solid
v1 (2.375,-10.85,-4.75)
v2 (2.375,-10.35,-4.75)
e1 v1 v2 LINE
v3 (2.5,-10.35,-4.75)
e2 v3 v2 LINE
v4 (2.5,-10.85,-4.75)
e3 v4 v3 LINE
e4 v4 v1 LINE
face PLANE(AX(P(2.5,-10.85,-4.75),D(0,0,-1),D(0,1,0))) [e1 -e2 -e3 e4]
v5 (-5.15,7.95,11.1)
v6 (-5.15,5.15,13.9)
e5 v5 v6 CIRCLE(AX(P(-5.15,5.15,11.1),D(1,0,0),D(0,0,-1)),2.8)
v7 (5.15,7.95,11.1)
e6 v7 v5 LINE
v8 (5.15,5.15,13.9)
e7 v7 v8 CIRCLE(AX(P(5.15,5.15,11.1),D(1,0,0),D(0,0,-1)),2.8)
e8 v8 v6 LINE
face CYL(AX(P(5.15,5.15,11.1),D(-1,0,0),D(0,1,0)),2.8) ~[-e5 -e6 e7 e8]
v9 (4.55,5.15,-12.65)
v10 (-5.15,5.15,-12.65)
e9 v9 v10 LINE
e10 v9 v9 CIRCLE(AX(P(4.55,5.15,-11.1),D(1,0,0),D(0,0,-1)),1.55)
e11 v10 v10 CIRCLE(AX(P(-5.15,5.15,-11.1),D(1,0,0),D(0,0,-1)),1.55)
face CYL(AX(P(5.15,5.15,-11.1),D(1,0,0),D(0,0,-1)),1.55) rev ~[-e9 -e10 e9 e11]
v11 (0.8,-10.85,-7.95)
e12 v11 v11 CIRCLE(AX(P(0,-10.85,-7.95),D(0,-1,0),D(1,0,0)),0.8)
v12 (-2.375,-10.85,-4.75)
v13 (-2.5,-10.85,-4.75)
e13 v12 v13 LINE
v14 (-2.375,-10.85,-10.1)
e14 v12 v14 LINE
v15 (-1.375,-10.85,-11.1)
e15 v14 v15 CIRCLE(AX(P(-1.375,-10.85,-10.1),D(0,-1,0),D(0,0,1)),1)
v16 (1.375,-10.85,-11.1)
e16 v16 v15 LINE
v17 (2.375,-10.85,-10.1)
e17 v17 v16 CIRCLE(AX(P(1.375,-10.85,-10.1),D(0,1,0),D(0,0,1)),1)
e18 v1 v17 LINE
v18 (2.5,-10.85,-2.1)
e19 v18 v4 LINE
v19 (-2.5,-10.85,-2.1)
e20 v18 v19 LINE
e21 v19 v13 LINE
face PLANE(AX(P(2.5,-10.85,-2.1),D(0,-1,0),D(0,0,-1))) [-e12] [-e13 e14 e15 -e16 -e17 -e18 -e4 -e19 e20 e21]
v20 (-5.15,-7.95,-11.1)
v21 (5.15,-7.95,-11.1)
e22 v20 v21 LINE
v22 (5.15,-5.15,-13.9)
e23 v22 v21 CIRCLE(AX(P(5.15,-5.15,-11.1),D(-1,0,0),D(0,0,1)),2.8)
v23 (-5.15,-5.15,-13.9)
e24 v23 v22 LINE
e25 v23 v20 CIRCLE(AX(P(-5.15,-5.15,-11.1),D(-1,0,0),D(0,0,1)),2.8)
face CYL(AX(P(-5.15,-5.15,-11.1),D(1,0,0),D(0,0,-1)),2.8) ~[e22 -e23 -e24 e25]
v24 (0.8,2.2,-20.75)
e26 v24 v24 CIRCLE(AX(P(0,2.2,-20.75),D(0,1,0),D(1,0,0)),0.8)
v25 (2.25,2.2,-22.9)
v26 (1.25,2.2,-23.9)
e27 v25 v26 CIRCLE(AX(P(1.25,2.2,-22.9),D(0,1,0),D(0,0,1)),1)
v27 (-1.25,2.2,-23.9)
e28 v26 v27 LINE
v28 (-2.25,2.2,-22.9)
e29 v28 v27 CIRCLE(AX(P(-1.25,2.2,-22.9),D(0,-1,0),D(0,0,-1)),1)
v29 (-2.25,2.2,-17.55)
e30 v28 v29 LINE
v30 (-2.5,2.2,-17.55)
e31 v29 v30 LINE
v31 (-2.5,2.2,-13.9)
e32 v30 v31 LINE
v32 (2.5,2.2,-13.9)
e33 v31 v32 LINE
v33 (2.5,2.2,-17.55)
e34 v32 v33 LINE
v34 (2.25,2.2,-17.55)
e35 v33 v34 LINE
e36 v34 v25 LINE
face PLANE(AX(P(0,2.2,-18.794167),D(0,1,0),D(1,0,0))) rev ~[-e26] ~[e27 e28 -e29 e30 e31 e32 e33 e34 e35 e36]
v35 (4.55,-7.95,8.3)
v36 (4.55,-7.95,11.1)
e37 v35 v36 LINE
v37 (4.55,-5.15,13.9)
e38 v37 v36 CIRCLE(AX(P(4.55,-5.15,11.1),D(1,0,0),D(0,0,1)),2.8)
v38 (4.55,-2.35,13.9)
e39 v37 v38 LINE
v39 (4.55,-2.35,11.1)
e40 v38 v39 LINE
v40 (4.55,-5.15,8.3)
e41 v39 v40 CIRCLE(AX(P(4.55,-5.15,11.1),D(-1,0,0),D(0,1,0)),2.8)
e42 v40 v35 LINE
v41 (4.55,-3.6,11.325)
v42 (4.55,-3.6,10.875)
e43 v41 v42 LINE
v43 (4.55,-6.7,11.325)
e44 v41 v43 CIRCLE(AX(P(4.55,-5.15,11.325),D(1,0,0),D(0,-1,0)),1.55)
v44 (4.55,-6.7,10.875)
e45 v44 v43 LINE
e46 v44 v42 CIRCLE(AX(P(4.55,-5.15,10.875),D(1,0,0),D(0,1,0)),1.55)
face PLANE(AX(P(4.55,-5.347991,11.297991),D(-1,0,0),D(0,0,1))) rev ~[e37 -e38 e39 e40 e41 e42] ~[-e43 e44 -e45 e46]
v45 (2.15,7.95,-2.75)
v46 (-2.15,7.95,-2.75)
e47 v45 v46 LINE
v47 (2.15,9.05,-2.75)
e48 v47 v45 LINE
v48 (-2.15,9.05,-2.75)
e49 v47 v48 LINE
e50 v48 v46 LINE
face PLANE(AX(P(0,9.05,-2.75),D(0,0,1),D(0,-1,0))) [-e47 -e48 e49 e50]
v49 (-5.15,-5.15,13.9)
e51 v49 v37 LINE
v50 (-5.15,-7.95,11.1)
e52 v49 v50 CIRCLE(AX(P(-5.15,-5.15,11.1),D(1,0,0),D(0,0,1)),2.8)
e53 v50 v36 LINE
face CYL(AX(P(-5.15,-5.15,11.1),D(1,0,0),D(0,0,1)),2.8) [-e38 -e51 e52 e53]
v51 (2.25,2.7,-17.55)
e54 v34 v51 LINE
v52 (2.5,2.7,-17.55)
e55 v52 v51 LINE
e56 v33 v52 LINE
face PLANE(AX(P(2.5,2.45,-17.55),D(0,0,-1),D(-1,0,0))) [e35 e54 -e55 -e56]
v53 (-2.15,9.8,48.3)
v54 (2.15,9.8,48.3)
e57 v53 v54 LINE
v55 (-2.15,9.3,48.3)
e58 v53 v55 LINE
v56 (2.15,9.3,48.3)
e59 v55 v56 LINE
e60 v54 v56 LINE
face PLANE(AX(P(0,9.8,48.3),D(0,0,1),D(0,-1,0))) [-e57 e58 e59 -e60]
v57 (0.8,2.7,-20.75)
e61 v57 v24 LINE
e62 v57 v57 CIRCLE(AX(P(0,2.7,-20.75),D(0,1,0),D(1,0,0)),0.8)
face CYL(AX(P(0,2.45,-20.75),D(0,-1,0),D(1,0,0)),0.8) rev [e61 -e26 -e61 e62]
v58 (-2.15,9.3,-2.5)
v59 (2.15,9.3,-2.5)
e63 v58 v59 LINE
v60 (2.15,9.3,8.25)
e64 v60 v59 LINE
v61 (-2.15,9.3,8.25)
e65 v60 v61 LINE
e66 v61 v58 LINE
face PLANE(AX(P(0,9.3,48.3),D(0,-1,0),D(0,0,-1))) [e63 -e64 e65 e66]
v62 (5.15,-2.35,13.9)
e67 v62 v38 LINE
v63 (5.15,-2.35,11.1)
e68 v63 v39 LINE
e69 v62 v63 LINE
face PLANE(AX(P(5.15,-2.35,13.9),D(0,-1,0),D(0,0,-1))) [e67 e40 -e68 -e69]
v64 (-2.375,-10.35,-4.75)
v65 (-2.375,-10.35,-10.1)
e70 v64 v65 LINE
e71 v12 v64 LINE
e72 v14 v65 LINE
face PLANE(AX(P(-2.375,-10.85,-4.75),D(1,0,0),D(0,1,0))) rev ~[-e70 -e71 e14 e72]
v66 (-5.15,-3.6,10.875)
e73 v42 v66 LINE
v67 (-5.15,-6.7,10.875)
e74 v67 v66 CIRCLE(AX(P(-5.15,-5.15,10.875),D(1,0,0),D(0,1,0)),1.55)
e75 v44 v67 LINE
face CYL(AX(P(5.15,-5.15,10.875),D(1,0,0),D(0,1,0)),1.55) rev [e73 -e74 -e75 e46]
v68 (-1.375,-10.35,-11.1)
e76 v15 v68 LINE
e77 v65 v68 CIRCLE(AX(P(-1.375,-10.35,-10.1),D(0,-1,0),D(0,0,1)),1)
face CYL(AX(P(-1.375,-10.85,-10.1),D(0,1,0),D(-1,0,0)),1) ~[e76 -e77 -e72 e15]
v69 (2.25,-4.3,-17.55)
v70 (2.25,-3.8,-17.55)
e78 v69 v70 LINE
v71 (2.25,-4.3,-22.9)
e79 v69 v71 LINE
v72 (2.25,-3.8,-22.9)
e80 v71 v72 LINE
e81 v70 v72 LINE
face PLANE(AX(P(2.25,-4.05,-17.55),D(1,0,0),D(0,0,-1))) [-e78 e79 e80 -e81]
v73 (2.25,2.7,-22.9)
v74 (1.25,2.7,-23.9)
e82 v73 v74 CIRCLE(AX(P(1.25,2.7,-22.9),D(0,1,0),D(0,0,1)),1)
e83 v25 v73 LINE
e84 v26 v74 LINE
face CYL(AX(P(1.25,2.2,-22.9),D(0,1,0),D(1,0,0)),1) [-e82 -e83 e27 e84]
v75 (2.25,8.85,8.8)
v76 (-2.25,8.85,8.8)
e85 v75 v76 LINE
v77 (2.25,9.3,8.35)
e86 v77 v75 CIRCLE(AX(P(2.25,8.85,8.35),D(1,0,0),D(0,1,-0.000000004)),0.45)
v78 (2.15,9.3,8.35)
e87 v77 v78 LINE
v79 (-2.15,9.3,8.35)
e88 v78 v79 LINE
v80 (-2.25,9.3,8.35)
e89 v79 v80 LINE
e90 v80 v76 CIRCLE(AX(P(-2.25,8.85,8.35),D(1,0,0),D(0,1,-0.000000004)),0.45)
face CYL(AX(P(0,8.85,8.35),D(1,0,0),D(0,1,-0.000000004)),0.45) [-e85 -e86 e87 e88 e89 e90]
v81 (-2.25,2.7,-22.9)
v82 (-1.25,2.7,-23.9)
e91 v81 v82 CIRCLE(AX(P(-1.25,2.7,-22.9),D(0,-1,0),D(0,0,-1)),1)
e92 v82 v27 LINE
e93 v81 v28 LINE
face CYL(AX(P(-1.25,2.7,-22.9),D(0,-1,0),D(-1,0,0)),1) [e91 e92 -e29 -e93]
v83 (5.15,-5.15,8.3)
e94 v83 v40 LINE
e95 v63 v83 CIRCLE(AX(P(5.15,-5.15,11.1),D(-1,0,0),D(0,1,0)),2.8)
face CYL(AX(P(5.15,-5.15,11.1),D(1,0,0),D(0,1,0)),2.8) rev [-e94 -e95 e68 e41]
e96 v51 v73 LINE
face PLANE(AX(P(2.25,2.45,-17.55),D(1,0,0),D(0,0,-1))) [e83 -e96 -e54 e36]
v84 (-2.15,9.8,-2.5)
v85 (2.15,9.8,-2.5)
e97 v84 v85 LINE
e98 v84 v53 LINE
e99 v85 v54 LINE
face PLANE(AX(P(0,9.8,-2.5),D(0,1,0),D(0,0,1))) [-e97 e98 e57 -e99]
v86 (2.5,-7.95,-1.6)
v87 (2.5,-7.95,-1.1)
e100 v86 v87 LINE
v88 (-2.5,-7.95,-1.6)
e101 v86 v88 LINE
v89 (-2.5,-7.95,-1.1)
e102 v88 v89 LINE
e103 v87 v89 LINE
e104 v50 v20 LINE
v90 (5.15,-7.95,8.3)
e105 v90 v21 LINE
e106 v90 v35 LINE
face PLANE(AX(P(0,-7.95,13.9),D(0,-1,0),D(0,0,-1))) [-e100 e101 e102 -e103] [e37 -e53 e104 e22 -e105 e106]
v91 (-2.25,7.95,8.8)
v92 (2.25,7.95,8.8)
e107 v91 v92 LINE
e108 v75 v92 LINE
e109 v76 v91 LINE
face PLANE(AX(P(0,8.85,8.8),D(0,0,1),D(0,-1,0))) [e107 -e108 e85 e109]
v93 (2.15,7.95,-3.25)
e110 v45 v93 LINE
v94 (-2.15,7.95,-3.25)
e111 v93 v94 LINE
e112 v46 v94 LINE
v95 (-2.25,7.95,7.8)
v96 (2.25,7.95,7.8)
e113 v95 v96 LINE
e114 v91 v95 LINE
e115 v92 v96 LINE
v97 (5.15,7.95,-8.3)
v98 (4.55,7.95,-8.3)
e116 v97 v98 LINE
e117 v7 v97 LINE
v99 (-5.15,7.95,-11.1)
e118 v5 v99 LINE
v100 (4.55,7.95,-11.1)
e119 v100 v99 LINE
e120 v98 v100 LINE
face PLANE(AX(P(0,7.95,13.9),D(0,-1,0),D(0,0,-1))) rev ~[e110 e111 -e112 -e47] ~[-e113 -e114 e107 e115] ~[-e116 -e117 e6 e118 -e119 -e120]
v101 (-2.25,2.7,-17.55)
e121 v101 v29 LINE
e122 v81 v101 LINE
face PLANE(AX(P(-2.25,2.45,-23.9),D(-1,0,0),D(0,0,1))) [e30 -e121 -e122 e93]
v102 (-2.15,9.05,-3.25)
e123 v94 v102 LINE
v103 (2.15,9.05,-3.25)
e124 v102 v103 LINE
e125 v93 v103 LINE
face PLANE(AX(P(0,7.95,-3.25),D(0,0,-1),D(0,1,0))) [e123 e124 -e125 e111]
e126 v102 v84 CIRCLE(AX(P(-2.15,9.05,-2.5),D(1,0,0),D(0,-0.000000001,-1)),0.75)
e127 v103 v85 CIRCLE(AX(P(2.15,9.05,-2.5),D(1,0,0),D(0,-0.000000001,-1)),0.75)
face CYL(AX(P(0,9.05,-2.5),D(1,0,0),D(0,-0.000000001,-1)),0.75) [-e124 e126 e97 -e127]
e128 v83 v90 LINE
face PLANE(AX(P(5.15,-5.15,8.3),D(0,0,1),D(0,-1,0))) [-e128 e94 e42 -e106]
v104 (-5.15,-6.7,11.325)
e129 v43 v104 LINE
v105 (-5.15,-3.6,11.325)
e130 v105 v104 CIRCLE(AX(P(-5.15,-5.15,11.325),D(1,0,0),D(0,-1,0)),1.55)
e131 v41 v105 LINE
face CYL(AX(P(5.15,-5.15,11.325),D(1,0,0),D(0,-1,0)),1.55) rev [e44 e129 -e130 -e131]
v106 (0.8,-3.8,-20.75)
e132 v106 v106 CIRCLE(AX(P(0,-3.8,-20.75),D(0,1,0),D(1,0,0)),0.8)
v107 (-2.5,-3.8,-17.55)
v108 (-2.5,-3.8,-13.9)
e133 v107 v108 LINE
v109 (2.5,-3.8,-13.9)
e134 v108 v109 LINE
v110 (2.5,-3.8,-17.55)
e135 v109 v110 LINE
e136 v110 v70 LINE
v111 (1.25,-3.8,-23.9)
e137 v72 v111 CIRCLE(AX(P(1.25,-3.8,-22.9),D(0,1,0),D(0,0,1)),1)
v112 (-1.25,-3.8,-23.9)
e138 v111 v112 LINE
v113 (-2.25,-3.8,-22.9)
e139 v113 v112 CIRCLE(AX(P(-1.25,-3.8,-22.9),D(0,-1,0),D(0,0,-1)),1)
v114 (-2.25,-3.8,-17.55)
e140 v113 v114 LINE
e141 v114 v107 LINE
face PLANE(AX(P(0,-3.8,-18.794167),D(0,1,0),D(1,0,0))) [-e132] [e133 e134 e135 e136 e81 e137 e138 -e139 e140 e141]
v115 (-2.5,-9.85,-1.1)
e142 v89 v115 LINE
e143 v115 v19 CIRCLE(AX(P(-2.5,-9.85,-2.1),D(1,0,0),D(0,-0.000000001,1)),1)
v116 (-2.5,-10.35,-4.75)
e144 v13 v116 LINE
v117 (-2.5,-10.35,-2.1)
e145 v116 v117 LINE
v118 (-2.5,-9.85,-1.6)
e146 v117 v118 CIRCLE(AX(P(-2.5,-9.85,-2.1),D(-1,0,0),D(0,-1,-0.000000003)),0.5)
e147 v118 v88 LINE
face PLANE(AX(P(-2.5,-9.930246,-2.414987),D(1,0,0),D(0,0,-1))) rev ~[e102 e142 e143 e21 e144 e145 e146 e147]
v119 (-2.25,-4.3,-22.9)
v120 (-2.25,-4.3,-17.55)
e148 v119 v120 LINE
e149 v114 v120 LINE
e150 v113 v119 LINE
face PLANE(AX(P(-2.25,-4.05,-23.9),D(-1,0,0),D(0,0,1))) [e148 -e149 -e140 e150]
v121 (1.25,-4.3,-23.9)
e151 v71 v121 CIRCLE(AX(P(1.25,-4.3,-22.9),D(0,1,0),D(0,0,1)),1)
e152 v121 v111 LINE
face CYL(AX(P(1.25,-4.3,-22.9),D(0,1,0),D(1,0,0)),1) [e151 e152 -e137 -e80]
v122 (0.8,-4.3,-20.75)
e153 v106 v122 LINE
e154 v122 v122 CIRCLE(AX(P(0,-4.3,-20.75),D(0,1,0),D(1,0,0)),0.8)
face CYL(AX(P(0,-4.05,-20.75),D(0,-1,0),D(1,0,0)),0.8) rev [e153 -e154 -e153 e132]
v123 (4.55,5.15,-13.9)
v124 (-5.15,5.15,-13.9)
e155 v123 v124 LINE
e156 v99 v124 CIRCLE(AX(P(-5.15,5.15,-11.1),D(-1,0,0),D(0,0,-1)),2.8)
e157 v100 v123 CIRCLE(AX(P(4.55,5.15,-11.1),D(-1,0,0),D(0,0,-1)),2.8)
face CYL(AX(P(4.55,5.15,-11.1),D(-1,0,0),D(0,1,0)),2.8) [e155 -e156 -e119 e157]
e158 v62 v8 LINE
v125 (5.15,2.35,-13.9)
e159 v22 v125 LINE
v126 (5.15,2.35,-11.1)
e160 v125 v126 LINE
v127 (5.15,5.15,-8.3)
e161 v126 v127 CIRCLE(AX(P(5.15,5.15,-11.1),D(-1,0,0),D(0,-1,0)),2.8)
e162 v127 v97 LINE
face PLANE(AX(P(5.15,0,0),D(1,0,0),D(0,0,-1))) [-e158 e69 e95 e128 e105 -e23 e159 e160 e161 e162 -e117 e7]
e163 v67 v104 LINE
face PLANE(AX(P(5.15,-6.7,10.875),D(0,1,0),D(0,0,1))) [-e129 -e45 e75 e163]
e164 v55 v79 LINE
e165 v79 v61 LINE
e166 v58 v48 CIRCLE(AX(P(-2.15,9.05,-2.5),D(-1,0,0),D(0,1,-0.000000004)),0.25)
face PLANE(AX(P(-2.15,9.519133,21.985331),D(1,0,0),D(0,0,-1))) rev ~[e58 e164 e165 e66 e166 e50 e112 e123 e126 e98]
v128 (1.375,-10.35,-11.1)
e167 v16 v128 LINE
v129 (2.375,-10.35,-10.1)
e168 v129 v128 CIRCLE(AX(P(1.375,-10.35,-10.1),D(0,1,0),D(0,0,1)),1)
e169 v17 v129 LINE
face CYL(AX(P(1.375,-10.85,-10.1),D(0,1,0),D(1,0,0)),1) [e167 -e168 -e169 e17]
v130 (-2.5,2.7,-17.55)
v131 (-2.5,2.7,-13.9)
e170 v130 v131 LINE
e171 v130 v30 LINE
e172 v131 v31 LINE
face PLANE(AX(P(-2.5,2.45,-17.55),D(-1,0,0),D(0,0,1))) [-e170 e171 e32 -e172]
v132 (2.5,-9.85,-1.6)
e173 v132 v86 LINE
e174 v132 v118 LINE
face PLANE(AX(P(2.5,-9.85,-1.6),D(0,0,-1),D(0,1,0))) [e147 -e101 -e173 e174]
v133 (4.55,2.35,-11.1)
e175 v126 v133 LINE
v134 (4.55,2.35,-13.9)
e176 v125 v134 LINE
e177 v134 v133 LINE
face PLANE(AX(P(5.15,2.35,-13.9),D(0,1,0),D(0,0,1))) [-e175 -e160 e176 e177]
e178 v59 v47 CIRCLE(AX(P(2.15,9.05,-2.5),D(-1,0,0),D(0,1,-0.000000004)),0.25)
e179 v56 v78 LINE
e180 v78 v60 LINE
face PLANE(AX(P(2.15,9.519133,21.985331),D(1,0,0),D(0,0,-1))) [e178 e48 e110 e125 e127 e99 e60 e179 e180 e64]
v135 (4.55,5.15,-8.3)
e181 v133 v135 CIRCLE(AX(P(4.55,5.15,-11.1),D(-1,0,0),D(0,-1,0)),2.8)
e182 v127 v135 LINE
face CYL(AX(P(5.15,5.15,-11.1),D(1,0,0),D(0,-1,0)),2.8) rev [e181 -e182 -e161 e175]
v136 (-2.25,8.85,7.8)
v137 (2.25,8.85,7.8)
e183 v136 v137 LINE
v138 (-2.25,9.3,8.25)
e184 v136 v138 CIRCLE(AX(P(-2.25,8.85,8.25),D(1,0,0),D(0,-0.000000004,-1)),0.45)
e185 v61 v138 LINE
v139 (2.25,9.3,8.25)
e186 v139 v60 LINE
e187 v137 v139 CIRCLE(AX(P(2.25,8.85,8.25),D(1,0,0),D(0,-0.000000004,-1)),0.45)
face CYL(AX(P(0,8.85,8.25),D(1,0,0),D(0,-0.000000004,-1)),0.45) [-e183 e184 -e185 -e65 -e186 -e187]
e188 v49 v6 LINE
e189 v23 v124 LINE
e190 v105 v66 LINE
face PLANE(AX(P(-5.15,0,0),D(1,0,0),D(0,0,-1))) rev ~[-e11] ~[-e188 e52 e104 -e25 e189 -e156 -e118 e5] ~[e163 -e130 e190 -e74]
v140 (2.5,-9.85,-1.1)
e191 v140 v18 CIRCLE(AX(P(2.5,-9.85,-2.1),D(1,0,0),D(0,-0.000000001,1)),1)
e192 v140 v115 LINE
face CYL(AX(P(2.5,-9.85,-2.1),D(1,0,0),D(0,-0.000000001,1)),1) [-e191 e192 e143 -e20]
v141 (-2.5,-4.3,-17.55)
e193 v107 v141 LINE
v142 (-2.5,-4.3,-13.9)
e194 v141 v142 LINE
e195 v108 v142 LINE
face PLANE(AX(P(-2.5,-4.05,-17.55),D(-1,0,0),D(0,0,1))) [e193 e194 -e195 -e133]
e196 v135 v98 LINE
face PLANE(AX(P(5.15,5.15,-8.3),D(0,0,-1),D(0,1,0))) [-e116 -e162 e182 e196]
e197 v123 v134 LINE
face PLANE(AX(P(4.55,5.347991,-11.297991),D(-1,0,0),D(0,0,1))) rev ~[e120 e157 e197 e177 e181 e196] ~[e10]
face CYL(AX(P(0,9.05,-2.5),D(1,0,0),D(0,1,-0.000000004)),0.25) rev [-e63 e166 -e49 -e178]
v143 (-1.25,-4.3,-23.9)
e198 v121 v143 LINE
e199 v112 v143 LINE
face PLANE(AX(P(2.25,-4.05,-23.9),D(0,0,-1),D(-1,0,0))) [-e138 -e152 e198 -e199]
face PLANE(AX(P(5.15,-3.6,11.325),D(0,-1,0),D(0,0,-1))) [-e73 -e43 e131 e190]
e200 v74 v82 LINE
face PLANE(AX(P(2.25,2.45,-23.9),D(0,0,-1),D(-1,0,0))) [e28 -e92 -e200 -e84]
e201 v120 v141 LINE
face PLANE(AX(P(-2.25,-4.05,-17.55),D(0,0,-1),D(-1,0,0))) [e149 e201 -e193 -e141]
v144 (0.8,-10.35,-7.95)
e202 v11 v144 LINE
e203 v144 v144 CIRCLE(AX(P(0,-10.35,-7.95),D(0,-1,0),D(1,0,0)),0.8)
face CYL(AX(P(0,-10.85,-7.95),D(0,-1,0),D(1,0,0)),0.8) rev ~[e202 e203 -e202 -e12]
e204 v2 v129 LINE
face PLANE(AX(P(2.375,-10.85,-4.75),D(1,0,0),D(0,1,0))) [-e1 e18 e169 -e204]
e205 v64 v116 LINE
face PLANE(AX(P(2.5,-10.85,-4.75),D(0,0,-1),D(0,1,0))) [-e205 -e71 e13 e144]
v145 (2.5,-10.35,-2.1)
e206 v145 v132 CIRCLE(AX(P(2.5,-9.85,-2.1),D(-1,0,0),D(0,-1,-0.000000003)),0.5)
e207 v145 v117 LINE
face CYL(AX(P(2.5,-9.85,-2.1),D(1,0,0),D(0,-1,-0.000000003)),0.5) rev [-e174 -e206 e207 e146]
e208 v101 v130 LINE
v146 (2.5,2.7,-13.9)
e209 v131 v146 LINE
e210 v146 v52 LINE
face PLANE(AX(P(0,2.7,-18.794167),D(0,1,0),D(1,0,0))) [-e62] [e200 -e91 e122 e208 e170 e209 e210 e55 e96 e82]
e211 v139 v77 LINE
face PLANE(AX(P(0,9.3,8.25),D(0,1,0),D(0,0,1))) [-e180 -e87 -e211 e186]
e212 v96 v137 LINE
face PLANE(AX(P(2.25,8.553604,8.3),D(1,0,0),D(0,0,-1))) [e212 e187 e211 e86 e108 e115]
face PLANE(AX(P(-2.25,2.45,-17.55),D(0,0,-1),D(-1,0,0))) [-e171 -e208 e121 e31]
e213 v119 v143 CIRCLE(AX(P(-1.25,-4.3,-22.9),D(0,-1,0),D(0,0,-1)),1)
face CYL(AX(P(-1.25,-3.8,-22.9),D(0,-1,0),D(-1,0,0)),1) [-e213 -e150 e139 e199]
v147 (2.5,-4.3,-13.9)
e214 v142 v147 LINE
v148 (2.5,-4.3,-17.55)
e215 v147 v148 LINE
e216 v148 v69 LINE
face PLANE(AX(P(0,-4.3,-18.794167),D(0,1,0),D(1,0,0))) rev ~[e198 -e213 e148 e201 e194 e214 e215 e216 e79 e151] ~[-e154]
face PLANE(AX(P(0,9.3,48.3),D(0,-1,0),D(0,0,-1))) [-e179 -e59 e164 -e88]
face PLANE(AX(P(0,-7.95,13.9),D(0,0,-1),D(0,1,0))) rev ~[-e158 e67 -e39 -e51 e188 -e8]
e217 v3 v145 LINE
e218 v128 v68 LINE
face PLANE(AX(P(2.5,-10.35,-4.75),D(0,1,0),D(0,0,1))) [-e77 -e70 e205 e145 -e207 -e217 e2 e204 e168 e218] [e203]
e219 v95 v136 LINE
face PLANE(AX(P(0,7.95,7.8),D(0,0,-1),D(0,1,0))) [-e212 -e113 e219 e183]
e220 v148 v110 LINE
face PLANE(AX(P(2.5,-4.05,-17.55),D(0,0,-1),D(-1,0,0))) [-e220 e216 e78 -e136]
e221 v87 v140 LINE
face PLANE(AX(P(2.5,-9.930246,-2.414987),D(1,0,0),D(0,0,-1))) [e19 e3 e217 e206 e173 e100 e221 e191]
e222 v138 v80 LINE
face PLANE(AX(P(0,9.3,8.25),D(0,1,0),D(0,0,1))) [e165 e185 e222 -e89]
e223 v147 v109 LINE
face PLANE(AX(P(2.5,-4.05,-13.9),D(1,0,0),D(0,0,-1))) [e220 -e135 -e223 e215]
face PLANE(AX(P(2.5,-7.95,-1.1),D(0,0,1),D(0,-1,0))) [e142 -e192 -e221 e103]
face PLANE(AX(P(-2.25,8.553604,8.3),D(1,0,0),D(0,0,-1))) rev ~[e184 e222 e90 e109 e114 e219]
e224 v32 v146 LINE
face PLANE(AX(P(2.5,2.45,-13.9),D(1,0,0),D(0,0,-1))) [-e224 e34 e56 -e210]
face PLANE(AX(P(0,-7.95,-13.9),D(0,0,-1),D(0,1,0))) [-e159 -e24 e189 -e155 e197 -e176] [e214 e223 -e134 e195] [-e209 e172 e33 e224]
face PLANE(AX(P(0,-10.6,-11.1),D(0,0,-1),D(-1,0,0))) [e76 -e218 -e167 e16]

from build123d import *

# Parameters (mm, degrees)
SKETCH1_W           = 27.8
SKETCH1_H           = 15.9
BOSS_EXTRUDE1_DEPTH = 5.15
SKETCH4_R           = 1.55
CUT_EXTRUDE1_DEPTH  = 11.3
CUT_EXTRUDE2_DEPTH  = 0.6
SKETCH8_R           = 0.8
BOSS_EXTRUDE2_DEPTH = 0.25
LPATTERN1_COUNT     = 2
LPATTERN1_PITCH     = 6.5
BOSS_EXTRUDE3_DEPTH = 5
SKETCH10_W          = 4.75
SKETCH10_H          = 0.5
BOSS_EXTRUDE4_DEPTH = 6.35
CUT_EXTRUDE3_REACH  = 20.8
SKETCH11_R          = 0.8
BOSS_EXTRUDE5_DEPTH = 2.15
BOSS_EXTRUDE7_DEPTH = 2.25
FILLET1_R           = 2.8
FILLET2_R           = 1


with BuildPart() as part:
    # Sketch1 → Boss-Extrude1 (new body, symmetric)
    with BuildSketch(Plane(origin=(0, 0, 0), x_dir=(0, 0, -1), z_dir=(1, 0, 0))):
        Rectangle(SKETCH1_W, SKETCH1_H)
    extrude(amount=BOSS_EXTRUDE1_DEPTH, both=True)

    # Sketch4 → Cut-Extrude1 (cut, through all)
    with BuildSketch(Plane(origin=(5.15, 0, 0), x_dir=(0, 0, -1), z_dir=(1, 0, 0))):
        with Locations((11.1, 5.15)):
            Circle(SKETCH4_R)
        with BuildLine():
            Line((-11.325, -3.6), (-10.875, -3.6))
            ThreePointArc((-10.875, -3.6), (-9.325, -5.15), (-10.875, -6.7))
            Line((-10.875, -6.7), (-11.325, -6.7))
            ThreePointArc((-11.325, -6.7), (-12.875, -5.15), (-11.325, -3.6))
        make_face()
    extrude(amount=-CUT_EXTRUDE1_DEPTH, mode=Mode.SUBTRACT)

    # Sketch5 → Cut-Extrude2 (cut)
    with BuildSketch(Plane(origin=(5.15, 0, 0), x_dir=(0, 0, -1), z_dir=(1, 0, 0))):
        with BuildLine():
            Line((13.9, 2.35), (11.1, 2.35))
            ThreePointArc((11.1, 2.35), (9.120101013, 3.170101013), (8.3, 5.15))
            Line((8.3, 5.15), (8.3, 7.95))
            Line((8.3, 7.95), (13.9, 7.95))
            Line((13.9, 7.95), (13.9, 2.35))
        make_face()
        with BuildLine():
            Line((-13.9, -2.35), (-11.1, -2.35))
            ThreePointArc((-11.1, -2.35), (-9.120101013, -3.170101013), (-8.3, -5.15))
            Line((-8.3, -5.15), (-8.3, -7.95))
            Line((-8.3, -7.95), (-13.9, -7.95))
            Line((-13.9, -7.95), (-13.9, -2.35))
        make_face()
    extrude(amount=-CUT_EXTRUDE2_DEPTH, mode=Mode.SUBTRACT)

    # Sketch8 → Boss-Extrude2 (add, symmetric)
    with BuildSketch(Plane(origin=(0, 2.45, 0), x_dir=(1, 0, 0), z_dir=(0, 1, 0))):
        Polygon((-2.5, 13.9), (2.5, 13.9), (2.5, 17.55), (2.25, 17.55), (2.25, 23.9), (-2.25, 23.9), (-2.25, 17.55), (-2.5, 17.55), align=None)
        with Locations((0, 20.75)):
            Circle(SKETCH8_R, mode=Mode.SUBTRACT)
    boss_extrude2 = extrude(amount=BOSS_EXTRUDE2_DEPTH, both=True)

    # LPattern1: Boss-Extrude2 ×2
    with Locations(*[(0, -i * LPATTERN1_PITCH, 0) for i in range(1, LPATTERN1_COUNT)]):
        add(boss_extrude2)

    # Sketch9 → Boss-Extrude3 (add)
    with BuildSketch(Plane(origin=(2.5, 0, 0), x_dir=(0, 0, -1), z_dir=(1, 0, 0))):
        with BuildLine():
            Line((1.1, -7.95), (1.1, -9.85))
            ThreePointArc((1.1, -9.85), (1.392893219, -10.557106781), (2.1, -10.85))
            Line((2.1, -10.85), (4.75, -10.85))
            Line((4.75, -10.85), (4.75, -10.35))
            Line((4.75, -10.35), (2.1, -10.35))
            ThreePointArc((2.1, -10.35), (1.746446609, -10.203553391), (1.6, -9.85))
            Line((1.6, -9.85), (1.6, -7.95))
            Line((1.6, -7.95), (1.1, -7.95))
        make_face()
    extrude(amount=-BOSS_EXTRUDE3_DEPTH)

    # Sketch10 → Boss-Extrude4 (add)
    with BuildSketch(Plane(origin=(0, 0, -4.75), x_dir=(-1, 0, 0), z_dir=(0, 0, -1))):
        with Locations((0, -10.6)):
            Rectangle(SKETCH10_W, SKETCH10_H)
    extrude(amount=BOSS_EXTRUDE4_DEPTH)

    # Sketch11 → Cut-Extrude3 (cut, up to next)
    with BuildSketch(Plane.XZ.offset(10.85), mode=Mode.PRIVATE) as cut_extrude3_sk1:
        with Locations((0, -7.95)):
            Circle(SKETCH11_R)
    cut_extrude3_tool1 = extrude(cut_extrude3_sk1.sketch, amount=-CUT_EXTRUDE3_REACH, mode=Mode.PRIVATE) & part.part
    add(cut_extrude3_tool1.solids().sort_by_distance((0, -10.85, -7.95))[0], mode=Mode.SUBTRACT)

    # Sketch12 → Boss-Extrude5 (add, symmetric)
    with BuildSketch(Plane(origin=(0, 0, 0), x_dir=(0, 0, -1), z_dir=(1, 0, 0))):
        with BuildLine():
            Line((3.25, 7.95), (3.25, 9.05))
            ThreePointArc((3.25, 9.05), (3.030330086, 9.580330086), (2.5, 9.8))
            Line((2.5, 9.8), (-48.3, 9.8))
            Line((-48.3, 9.8), (-48.3, 9.3))
            Line((-48.3, 9.3), (2.5, 9.3))
            ThreePointArc((2.5, 9.3), (2.676776695, 9.226776695), (2.75, 9.05))
            Line((2.75, 9.05), (2.75, 7.95))
            Line((2.75, 7.95), (3.25, 7.95))
        make_face()
    extrude(amount=BOSS_EXTRUDE5_DEPTH, both=True)

    # Sketch13 → Boss-Extrude7 (add, symmetric)
    with BuildSketch(Plane(origin=(0, 0, 0), x_dir=(0, 0, -1), z_dir=(1, 0, 0))):
        with BuildLine():
            Line((-8.8, 8.85), (-8.8, 7.95))
            Line((-8.8, 7.95), (-7.8, 7.95))
            Line((-7.8, 7.95), (-7.8, 8.85))
            ThreePointArc((-7.8, 8.85), (-7.931801948, 9.168198052), (-8.25, 9.3))
            Line((-8.25, 9.3), (-8.35, 9.3))
            ThreePointArc((-8.35, 9.3), (-8.668198052, 9.168198052), (-8.8, 8.85))
        make_face()
    extrude(amount=BOSS_EXTRUDE7_DEPTH, both=True)

    # Fillet1
    fillet1_edges = [part.edges().sort_by_distance(p)[0] for p in [
        (-0.3, 7.95, -13.9),
        (-0.3, -7.95, 13.9),
        (0, -7.95, -13.9),
        (0, 7.95, 13.9),
    ]]
    fillet(fillet1_edges, radius=FILLET1_R)

    # Fillet2
    fillet2_edges = [part.edges().sort_by_distance(p)[0] for p in [
        (2.375, -10.6, -11.1),
        (-2.375, -10.6, -11.1),
        (2.25, -4.05, -23.9),
        (-2.25, -4.05, -23.9),
        (-2.25, 2.45, -23.9),
        (2.25, 2.45, -23.9),
    ]]
    fillet(fillet2_edges, radius=FILLET2_R)


solid = part.part
